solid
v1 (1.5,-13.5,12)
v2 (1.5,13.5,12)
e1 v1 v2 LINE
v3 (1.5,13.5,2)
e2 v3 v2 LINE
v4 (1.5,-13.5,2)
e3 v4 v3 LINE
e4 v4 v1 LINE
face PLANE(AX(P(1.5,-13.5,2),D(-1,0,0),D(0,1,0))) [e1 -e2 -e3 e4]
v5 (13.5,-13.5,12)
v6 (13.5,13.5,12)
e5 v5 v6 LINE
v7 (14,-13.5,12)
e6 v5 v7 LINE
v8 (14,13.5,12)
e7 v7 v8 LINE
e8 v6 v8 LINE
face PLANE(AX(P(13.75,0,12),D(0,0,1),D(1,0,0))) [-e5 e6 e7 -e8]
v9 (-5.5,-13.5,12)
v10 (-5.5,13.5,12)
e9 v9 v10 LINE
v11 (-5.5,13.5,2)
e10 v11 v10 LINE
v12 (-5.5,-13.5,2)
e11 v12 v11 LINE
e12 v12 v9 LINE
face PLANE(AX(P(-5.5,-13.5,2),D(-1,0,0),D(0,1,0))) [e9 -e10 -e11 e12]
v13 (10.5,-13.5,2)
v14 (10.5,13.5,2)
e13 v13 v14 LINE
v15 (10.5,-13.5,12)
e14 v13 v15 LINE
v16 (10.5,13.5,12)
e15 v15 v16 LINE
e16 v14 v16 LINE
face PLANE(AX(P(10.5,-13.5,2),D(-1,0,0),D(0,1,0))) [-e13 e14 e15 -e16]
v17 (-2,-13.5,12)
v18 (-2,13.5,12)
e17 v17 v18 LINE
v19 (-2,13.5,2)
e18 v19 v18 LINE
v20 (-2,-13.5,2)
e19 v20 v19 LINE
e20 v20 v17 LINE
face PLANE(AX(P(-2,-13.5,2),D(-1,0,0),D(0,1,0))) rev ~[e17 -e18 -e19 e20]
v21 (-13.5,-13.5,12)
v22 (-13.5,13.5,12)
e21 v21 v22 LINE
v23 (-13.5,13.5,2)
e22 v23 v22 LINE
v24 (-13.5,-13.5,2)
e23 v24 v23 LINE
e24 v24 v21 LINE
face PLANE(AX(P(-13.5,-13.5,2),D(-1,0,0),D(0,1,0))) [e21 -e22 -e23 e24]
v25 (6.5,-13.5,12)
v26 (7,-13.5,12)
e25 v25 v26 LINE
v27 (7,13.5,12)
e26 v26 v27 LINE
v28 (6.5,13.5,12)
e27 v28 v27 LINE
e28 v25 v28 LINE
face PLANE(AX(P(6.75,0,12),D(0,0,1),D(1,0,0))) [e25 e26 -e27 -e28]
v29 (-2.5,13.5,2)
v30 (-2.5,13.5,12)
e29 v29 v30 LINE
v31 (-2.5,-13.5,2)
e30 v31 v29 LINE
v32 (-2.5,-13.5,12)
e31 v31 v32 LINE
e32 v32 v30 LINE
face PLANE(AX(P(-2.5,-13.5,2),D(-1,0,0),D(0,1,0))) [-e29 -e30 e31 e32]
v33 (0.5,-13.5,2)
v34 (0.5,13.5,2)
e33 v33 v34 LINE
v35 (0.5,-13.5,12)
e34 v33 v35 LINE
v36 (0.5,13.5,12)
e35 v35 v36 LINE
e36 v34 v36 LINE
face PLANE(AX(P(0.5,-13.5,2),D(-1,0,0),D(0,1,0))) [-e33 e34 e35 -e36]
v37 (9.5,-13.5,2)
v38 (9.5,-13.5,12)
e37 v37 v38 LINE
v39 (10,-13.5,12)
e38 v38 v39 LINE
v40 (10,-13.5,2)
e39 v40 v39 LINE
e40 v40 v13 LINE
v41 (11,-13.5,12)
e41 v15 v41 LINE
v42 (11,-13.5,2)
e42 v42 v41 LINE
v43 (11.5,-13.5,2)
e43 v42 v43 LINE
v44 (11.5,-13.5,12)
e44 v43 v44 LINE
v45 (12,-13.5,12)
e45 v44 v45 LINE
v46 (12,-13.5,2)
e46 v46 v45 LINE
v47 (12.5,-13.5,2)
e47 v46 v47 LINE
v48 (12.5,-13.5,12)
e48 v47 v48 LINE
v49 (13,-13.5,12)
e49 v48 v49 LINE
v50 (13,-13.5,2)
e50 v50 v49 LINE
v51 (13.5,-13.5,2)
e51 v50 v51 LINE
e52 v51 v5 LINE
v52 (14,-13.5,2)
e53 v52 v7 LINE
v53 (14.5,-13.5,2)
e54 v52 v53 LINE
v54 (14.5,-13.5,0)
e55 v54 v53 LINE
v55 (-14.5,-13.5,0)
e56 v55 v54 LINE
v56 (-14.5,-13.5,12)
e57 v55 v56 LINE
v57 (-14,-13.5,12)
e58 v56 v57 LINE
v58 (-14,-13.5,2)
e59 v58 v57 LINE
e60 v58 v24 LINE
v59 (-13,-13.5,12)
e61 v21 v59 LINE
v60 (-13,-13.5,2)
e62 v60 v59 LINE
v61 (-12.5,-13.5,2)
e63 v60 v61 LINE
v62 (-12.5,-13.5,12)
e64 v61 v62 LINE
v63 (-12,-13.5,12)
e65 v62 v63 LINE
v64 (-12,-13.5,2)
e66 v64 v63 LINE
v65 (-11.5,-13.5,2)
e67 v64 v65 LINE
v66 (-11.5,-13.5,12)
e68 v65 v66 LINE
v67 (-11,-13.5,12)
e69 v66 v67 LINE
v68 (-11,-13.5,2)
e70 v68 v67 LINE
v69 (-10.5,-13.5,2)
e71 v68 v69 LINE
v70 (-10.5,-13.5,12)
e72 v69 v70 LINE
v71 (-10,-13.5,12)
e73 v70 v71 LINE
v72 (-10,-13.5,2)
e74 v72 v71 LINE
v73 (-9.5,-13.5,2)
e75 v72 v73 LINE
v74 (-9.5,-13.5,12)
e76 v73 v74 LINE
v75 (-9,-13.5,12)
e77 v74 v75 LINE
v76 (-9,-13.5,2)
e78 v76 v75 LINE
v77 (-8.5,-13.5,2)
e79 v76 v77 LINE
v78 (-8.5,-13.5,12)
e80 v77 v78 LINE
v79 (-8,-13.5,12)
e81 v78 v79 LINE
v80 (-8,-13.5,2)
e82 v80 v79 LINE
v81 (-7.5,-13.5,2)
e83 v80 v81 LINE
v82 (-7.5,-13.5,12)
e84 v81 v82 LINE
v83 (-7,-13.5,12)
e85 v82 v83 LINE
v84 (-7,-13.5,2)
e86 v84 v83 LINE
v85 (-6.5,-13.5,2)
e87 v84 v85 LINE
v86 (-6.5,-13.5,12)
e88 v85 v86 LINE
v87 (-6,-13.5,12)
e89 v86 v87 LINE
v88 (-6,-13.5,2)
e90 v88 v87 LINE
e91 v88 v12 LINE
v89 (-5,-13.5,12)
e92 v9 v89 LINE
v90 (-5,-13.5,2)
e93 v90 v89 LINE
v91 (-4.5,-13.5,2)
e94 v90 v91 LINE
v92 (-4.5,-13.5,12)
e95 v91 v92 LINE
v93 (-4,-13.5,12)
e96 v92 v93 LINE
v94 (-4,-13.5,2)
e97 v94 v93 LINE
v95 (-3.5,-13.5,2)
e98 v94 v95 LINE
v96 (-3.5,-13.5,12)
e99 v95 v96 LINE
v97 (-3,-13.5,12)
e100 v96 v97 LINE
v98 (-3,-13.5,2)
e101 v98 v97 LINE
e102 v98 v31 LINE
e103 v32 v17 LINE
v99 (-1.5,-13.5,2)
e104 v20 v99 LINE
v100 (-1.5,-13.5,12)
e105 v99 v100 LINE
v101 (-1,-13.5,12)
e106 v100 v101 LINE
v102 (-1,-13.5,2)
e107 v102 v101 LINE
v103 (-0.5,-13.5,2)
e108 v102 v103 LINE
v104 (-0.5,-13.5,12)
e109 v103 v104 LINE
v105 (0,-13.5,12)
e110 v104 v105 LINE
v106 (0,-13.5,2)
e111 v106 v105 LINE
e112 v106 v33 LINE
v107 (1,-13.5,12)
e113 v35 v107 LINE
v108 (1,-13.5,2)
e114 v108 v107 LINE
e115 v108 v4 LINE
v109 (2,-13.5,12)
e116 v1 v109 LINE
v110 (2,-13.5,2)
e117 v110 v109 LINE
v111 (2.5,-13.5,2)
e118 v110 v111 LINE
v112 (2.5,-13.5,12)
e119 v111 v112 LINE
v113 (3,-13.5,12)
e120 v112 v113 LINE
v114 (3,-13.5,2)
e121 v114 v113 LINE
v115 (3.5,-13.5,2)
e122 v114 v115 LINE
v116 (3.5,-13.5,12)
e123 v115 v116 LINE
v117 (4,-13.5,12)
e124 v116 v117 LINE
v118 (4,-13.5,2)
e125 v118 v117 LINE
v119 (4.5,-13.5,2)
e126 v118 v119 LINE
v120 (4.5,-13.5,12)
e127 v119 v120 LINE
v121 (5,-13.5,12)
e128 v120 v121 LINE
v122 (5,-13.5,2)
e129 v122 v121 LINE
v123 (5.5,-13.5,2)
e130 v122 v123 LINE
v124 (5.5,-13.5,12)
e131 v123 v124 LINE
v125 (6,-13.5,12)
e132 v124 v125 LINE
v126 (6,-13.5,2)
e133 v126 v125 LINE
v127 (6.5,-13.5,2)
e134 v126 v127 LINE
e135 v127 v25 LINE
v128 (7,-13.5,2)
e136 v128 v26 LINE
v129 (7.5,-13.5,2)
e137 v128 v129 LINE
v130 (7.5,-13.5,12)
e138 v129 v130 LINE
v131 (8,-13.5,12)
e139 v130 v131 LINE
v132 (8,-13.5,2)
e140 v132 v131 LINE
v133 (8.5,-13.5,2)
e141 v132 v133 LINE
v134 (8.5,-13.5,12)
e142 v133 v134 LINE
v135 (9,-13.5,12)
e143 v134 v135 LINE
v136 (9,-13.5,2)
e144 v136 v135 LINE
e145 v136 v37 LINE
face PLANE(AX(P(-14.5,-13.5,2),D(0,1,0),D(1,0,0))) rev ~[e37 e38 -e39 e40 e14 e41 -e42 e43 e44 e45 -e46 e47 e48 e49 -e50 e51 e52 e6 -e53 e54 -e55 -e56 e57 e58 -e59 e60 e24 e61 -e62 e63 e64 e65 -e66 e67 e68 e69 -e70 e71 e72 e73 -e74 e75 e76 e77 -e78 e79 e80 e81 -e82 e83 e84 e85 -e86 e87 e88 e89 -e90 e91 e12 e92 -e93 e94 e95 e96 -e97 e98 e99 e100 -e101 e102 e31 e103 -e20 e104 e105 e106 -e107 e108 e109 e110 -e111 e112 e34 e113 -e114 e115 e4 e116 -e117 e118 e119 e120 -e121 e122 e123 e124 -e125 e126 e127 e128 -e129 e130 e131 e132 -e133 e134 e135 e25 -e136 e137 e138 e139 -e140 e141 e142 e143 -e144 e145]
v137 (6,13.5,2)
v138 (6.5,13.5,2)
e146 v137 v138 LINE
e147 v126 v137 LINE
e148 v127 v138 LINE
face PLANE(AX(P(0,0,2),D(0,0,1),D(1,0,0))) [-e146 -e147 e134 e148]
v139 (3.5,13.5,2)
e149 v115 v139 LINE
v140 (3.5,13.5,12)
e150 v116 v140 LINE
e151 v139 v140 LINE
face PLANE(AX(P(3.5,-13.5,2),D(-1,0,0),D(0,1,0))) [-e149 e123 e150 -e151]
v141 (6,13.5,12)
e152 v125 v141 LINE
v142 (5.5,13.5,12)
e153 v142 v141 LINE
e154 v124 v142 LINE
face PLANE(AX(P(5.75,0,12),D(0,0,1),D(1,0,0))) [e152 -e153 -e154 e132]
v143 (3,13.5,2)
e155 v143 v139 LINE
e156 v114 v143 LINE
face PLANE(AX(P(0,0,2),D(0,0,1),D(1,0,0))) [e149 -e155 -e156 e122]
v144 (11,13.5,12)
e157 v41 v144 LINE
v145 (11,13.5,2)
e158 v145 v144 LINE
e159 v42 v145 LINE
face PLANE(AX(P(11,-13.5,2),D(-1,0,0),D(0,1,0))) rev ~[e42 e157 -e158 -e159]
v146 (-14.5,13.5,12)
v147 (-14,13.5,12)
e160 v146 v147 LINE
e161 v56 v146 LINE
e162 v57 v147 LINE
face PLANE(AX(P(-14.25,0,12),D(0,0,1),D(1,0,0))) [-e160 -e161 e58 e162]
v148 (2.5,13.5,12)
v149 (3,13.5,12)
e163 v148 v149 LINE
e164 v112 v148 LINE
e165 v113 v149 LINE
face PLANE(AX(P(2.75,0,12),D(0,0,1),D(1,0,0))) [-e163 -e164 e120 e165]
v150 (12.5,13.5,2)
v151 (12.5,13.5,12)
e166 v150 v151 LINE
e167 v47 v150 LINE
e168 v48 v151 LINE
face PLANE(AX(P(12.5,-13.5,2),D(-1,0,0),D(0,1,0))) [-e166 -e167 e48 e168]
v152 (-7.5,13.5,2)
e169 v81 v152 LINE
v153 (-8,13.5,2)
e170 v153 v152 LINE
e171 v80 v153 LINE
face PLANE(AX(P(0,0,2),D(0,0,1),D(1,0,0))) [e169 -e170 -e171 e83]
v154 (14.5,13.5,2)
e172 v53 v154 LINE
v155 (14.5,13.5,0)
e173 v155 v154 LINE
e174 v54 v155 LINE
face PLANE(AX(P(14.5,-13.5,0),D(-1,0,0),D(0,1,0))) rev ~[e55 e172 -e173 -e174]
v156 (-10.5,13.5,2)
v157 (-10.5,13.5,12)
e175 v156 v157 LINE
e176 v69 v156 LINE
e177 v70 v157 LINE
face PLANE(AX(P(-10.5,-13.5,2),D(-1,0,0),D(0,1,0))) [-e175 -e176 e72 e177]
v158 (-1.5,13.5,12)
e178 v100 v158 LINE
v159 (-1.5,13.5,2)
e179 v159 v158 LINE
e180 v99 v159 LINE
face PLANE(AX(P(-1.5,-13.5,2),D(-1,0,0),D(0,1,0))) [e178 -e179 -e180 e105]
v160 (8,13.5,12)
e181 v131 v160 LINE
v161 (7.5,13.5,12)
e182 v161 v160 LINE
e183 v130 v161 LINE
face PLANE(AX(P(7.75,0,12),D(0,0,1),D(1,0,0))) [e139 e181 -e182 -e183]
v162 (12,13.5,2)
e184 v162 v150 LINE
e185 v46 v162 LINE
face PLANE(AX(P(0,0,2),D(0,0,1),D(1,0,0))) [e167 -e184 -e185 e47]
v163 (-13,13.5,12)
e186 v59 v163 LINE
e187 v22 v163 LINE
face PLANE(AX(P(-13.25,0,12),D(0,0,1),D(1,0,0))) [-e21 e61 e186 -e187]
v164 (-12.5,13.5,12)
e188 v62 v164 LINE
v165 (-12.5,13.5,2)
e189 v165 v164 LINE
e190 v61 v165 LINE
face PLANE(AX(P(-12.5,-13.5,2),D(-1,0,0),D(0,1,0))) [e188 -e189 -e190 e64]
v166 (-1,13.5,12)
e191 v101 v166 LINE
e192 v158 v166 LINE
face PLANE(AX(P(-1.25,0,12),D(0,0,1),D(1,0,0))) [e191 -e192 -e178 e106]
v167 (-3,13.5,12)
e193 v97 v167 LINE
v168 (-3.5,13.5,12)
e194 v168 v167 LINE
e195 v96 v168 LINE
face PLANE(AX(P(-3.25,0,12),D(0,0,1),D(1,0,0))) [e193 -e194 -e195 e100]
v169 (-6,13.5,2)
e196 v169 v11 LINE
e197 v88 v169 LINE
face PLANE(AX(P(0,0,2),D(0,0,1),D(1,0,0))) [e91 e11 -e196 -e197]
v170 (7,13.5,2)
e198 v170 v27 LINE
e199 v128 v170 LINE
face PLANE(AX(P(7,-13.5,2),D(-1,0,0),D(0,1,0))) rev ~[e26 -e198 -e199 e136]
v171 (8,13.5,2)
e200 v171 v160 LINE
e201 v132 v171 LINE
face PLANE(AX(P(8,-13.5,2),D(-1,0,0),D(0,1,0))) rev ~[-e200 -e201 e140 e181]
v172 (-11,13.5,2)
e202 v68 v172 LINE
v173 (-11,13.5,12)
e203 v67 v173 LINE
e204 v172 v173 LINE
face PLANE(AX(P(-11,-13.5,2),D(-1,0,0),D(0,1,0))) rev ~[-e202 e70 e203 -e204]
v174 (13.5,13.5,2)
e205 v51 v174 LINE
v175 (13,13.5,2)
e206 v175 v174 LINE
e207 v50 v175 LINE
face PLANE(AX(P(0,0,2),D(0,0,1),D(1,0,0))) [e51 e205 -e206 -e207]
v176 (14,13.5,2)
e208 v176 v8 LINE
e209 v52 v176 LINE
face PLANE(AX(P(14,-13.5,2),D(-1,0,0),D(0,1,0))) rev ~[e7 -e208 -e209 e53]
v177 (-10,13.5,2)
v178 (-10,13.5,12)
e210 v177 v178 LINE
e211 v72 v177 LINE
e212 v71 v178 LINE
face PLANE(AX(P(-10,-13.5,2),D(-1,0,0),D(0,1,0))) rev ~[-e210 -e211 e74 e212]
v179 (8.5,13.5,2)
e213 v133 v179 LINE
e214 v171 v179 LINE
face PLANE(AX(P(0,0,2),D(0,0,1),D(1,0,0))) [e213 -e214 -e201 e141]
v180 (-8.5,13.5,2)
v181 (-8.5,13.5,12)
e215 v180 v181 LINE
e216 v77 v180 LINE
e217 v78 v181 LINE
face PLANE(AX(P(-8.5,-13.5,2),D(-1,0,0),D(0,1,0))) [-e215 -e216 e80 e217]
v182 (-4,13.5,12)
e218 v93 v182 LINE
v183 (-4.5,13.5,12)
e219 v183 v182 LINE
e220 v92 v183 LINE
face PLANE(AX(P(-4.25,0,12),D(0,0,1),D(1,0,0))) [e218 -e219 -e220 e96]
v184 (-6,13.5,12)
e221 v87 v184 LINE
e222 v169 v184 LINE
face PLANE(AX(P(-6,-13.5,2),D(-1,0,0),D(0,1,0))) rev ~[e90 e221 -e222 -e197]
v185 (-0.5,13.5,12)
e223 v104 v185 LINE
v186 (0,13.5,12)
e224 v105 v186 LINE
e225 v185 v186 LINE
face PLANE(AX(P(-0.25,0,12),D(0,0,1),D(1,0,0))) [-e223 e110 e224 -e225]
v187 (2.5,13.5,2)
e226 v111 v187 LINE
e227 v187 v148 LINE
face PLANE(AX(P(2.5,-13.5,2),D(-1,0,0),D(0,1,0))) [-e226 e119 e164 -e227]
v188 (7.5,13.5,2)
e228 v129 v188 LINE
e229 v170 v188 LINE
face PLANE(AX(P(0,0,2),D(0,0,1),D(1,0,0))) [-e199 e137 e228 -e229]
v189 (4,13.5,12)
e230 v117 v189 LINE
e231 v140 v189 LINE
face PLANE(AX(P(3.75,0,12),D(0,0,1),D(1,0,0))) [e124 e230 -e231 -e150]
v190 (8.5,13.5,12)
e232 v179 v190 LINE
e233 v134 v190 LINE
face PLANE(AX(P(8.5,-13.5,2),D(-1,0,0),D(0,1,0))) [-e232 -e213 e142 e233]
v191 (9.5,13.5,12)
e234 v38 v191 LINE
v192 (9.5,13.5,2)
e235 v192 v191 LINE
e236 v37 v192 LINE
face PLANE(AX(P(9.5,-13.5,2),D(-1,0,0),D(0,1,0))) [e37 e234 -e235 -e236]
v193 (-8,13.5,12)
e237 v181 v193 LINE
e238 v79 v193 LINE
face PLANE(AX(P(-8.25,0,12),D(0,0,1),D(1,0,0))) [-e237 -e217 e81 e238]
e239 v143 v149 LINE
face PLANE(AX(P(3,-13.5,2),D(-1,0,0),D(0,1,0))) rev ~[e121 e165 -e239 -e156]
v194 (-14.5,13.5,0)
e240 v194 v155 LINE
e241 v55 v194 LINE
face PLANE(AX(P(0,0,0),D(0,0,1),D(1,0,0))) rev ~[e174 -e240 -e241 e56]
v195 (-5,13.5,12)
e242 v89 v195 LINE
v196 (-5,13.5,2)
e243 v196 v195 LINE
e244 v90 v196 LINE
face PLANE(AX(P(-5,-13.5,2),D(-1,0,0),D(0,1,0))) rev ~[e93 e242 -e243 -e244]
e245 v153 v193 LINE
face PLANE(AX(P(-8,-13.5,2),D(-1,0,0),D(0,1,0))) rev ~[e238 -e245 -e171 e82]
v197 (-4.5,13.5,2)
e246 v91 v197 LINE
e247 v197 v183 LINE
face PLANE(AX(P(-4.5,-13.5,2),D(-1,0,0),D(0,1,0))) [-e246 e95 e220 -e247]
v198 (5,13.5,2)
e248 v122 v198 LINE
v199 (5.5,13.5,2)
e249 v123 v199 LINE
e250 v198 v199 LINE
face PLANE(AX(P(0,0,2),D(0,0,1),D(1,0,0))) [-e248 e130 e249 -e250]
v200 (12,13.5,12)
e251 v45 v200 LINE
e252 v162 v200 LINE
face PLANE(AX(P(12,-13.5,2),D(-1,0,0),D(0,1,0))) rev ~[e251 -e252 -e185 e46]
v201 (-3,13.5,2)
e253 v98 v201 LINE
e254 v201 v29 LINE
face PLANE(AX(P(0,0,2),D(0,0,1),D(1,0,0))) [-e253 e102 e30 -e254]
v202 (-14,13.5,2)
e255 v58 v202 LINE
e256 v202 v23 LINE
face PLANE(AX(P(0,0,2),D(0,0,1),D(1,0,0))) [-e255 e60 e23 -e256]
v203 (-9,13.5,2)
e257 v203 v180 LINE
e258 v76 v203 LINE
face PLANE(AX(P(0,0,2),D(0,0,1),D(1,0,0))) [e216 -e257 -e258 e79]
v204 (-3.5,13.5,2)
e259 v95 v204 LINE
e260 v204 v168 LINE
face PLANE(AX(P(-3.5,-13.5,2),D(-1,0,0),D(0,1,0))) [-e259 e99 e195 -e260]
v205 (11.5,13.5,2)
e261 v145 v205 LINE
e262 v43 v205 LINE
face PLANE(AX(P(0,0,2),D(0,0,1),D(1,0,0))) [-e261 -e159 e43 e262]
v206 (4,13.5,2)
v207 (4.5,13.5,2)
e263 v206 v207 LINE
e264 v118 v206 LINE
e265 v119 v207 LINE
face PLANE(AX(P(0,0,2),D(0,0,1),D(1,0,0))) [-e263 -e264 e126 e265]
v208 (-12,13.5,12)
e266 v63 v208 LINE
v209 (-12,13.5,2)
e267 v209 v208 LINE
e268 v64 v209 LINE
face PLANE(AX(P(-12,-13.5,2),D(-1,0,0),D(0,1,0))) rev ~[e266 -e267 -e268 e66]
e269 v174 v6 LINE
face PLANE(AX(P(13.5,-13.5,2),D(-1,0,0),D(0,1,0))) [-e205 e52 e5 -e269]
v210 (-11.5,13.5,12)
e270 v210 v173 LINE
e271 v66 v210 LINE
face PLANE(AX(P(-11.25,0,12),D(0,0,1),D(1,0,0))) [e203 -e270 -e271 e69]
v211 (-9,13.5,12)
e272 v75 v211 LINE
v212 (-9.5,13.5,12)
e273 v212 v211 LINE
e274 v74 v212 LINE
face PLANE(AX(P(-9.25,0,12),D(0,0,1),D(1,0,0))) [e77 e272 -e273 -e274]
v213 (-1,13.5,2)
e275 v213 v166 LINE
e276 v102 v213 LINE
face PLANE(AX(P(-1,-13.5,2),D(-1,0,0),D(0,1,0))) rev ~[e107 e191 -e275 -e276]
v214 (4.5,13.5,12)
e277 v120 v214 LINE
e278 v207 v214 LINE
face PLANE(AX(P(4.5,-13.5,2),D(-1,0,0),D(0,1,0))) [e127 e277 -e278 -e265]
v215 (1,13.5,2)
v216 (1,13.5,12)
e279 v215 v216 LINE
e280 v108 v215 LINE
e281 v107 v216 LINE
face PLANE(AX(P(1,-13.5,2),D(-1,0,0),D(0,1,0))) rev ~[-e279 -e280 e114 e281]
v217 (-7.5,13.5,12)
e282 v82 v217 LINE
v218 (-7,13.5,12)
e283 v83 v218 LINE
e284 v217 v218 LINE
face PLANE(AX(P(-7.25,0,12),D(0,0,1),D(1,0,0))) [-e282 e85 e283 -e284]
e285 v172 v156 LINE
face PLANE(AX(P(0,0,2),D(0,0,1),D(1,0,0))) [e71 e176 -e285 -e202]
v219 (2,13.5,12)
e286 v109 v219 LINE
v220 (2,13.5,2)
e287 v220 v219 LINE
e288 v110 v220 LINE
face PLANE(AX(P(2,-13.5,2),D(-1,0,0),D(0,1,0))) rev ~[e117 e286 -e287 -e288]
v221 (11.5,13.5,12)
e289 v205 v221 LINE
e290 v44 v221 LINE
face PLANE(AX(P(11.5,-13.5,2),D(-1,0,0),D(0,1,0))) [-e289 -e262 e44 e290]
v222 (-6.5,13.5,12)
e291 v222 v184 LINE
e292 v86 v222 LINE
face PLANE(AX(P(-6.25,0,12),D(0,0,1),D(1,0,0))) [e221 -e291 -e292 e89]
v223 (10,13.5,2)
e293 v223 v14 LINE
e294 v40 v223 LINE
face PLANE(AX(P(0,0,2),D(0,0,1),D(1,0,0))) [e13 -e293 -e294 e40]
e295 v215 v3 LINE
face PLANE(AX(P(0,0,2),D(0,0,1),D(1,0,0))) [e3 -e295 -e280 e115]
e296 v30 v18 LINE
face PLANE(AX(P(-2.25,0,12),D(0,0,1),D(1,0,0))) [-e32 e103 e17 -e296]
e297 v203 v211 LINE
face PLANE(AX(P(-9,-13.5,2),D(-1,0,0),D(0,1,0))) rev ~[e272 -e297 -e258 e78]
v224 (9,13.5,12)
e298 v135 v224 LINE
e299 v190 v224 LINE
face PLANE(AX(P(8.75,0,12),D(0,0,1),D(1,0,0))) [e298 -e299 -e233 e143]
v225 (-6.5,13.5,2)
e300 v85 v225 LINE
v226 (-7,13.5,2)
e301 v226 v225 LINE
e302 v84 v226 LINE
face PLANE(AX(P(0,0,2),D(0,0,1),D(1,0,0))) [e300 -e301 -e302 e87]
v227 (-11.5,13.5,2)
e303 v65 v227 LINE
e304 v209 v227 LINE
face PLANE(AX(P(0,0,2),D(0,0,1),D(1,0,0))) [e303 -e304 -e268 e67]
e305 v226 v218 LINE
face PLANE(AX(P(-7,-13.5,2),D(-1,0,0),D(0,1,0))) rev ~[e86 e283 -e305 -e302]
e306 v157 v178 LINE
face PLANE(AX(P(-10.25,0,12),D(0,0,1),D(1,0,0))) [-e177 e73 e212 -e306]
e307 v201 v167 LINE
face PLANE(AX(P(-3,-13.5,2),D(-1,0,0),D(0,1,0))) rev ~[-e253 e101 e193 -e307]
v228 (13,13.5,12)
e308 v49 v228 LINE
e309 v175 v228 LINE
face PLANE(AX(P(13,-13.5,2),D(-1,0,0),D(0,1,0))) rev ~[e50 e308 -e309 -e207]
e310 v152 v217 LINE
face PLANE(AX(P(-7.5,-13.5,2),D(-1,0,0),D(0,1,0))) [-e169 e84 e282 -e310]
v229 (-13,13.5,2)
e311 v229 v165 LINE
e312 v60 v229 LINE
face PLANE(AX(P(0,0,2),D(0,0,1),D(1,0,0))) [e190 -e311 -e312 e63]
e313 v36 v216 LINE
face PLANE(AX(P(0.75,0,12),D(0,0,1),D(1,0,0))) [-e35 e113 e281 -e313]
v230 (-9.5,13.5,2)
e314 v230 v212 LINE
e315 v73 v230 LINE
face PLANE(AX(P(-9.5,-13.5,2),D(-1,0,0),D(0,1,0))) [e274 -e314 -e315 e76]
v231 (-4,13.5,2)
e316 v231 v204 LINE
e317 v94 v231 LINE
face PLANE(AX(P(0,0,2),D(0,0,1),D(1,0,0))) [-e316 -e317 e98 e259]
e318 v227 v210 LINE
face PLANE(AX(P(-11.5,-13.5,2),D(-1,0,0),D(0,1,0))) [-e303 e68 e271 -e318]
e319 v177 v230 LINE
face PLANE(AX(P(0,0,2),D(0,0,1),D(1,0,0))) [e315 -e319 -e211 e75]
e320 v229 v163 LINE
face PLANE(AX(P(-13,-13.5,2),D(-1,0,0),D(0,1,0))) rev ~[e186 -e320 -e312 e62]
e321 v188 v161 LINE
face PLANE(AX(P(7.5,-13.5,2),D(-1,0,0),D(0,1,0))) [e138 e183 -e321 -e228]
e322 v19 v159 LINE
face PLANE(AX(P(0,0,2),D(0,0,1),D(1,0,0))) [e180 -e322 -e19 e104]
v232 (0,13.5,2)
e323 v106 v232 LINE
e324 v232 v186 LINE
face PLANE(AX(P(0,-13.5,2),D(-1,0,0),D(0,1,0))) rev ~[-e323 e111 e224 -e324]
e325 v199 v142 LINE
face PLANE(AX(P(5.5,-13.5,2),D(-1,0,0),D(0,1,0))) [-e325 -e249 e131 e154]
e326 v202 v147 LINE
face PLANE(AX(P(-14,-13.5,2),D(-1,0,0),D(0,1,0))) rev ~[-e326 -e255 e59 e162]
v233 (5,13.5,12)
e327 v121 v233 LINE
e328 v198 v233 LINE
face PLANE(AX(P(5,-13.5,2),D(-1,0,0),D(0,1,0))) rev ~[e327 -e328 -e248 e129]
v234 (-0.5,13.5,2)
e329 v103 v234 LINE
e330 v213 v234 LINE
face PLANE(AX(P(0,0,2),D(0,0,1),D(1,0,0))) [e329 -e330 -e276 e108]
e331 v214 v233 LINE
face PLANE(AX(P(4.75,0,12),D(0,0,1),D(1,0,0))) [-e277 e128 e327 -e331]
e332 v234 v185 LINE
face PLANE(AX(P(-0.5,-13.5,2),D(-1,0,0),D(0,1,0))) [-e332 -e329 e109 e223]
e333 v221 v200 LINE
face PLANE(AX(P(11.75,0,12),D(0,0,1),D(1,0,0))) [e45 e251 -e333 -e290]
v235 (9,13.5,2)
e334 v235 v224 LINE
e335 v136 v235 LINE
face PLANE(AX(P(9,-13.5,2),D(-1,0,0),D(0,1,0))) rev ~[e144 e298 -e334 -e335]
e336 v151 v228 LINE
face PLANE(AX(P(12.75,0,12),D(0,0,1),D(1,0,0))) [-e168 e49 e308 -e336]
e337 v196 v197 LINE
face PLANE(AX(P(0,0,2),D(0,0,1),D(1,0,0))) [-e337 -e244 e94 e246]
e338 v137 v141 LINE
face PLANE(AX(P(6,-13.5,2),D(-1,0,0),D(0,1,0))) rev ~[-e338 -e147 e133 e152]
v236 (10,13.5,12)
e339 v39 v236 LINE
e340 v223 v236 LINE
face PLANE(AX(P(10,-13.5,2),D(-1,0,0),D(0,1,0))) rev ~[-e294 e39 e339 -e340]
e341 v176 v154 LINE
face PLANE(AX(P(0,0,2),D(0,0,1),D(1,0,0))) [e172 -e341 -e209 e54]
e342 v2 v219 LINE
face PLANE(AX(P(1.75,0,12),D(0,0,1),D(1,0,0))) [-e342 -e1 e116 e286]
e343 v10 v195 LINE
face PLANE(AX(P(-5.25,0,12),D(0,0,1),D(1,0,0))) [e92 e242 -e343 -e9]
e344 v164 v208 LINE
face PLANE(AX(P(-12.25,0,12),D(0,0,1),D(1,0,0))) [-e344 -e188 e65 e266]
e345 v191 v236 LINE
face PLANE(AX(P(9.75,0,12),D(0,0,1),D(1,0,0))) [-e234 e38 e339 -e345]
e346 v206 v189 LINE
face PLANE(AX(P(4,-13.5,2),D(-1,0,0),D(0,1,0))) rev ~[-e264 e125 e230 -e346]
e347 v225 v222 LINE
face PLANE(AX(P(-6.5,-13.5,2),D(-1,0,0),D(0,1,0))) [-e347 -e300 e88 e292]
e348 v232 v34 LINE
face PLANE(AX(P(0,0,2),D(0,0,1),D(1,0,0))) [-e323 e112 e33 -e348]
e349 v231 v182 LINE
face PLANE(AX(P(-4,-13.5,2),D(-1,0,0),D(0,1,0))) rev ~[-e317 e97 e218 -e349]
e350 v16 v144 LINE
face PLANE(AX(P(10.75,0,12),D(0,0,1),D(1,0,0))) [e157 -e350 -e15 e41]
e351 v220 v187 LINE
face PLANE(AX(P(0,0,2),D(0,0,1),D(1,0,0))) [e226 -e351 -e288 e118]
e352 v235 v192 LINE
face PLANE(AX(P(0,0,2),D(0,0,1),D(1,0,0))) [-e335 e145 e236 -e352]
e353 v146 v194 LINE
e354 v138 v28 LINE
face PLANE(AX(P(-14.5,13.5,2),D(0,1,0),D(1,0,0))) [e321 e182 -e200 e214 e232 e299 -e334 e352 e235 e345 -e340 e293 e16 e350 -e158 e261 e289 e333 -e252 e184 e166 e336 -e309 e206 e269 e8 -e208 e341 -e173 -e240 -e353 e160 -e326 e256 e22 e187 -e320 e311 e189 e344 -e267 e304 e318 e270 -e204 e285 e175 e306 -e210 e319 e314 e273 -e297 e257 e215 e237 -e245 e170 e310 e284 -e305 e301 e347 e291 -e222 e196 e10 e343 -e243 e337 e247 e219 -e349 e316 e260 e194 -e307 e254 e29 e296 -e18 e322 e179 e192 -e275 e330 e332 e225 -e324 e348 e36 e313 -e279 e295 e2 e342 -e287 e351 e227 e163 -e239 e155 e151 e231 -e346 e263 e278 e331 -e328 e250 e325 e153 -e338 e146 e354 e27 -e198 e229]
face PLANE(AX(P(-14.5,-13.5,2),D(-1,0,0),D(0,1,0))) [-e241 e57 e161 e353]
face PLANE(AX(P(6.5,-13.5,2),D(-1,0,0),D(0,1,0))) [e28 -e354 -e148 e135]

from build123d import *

# Parameters (mm, degrees)
F0_W     = 29
F0_H     = 27
F1_DEPTH = 2
F2_W     = 0.5
F2_H     = 27
F3_DEPTH = 10


with BuildPart() as f1:
    # F0 (on Top) → F1 (new body)
    with BuildSketch(Plane.XY):
        Rectangle(F0_W, F0_H)
    extrude(amount=F1_DEPTH)

    # F2 (on face) → F3 (join)
    with BuildSketch(Plane.XY.offset(2)):
        with Locations((-14.25, 0)):
            Rectangle(F2_W, F2_H)
        with Locations((-13.25, 0)):
            Rectangle(F2_W, F2_H)
        with Locations((-12.25, 0)):
            Rectangle(F2_W, F2_H)
        with Locations((-11.25, 0)):
            Rectangle(F2_W, F2_H)
        with Locations((-10.25, 0)):
            Rectangle(F2_W, F2_H)
        with Locations((-9.25, 0)):
            Rectangle(F2_W, F2_H)
        with Locations((-8.25, 0)):
            Rectangle(F2_W, F2_H)
        with Locations((-7.25, 0)):
            Rectangle(F2_W, F2_H)
        with Locations((-6.25, 0)):
            Rectangle(F2_W, F2_H)
        with Locations((-5.25, 0)):
            Rectangle(F2_W, F2_H)
        with Locations((-4.25, 0)):
            Rectangle(F2_W, F2_H)
        with Locations((-3.25, 0)):
            Rectangle(F2_W, F2_H)
        with Locations((-2.25, 0)):
            Rectangle(F2_W, F2_H)
        with Locations((-1.25, 0)):
            Rectangle(F2_W, F2_H)
        with Locations((-0.25, 0)):
            Rectangle(F2_W, F2_H)
        with Locations((0.75, 0)):
            Rectangle(F2_W, F2_H)
        with Locations((1.75, 0)):
            Rectangle(F2_W, F2_H)
        with Locations((2.75, 0)):
            Rectangle(F2_W, F2_H)
        with Locations((3.75, 0)):
            Rectangle(F2_W, F2_H)
        with Locations((4.75, 0)):
            Rectangle(F2_W, F2_H)
        with Locations((5.75, 0)):
            Rectangle(F2_W, F2_H)
        with Locations((6.75, 0)):
            Rectangle(F2_W, F2_H)
        with Locations((7.75, 0)):
            Rectangle(F2_W, F2_H)
        with Locations((8.75, 0)):
            Rectangle(F2_W, F2_H)
        with Locations((9.75, 0)):
            Rectangle(F2_W, F2_H)
        with Locations((10.75, 0)):
            Rectangle(F2_W, F2_H)
        with Locations((11.75, 0)):
            Rectangle(F2_W, F2_H)
        with Locations((12.75, 0)):
            Rectangle(F2_W, F2_H)
        with Locations((13.75, 0)):
            Rectangle(F2_W, F2_H)
    extrude(amount=F3_DEPTH)


solid = f1.part
